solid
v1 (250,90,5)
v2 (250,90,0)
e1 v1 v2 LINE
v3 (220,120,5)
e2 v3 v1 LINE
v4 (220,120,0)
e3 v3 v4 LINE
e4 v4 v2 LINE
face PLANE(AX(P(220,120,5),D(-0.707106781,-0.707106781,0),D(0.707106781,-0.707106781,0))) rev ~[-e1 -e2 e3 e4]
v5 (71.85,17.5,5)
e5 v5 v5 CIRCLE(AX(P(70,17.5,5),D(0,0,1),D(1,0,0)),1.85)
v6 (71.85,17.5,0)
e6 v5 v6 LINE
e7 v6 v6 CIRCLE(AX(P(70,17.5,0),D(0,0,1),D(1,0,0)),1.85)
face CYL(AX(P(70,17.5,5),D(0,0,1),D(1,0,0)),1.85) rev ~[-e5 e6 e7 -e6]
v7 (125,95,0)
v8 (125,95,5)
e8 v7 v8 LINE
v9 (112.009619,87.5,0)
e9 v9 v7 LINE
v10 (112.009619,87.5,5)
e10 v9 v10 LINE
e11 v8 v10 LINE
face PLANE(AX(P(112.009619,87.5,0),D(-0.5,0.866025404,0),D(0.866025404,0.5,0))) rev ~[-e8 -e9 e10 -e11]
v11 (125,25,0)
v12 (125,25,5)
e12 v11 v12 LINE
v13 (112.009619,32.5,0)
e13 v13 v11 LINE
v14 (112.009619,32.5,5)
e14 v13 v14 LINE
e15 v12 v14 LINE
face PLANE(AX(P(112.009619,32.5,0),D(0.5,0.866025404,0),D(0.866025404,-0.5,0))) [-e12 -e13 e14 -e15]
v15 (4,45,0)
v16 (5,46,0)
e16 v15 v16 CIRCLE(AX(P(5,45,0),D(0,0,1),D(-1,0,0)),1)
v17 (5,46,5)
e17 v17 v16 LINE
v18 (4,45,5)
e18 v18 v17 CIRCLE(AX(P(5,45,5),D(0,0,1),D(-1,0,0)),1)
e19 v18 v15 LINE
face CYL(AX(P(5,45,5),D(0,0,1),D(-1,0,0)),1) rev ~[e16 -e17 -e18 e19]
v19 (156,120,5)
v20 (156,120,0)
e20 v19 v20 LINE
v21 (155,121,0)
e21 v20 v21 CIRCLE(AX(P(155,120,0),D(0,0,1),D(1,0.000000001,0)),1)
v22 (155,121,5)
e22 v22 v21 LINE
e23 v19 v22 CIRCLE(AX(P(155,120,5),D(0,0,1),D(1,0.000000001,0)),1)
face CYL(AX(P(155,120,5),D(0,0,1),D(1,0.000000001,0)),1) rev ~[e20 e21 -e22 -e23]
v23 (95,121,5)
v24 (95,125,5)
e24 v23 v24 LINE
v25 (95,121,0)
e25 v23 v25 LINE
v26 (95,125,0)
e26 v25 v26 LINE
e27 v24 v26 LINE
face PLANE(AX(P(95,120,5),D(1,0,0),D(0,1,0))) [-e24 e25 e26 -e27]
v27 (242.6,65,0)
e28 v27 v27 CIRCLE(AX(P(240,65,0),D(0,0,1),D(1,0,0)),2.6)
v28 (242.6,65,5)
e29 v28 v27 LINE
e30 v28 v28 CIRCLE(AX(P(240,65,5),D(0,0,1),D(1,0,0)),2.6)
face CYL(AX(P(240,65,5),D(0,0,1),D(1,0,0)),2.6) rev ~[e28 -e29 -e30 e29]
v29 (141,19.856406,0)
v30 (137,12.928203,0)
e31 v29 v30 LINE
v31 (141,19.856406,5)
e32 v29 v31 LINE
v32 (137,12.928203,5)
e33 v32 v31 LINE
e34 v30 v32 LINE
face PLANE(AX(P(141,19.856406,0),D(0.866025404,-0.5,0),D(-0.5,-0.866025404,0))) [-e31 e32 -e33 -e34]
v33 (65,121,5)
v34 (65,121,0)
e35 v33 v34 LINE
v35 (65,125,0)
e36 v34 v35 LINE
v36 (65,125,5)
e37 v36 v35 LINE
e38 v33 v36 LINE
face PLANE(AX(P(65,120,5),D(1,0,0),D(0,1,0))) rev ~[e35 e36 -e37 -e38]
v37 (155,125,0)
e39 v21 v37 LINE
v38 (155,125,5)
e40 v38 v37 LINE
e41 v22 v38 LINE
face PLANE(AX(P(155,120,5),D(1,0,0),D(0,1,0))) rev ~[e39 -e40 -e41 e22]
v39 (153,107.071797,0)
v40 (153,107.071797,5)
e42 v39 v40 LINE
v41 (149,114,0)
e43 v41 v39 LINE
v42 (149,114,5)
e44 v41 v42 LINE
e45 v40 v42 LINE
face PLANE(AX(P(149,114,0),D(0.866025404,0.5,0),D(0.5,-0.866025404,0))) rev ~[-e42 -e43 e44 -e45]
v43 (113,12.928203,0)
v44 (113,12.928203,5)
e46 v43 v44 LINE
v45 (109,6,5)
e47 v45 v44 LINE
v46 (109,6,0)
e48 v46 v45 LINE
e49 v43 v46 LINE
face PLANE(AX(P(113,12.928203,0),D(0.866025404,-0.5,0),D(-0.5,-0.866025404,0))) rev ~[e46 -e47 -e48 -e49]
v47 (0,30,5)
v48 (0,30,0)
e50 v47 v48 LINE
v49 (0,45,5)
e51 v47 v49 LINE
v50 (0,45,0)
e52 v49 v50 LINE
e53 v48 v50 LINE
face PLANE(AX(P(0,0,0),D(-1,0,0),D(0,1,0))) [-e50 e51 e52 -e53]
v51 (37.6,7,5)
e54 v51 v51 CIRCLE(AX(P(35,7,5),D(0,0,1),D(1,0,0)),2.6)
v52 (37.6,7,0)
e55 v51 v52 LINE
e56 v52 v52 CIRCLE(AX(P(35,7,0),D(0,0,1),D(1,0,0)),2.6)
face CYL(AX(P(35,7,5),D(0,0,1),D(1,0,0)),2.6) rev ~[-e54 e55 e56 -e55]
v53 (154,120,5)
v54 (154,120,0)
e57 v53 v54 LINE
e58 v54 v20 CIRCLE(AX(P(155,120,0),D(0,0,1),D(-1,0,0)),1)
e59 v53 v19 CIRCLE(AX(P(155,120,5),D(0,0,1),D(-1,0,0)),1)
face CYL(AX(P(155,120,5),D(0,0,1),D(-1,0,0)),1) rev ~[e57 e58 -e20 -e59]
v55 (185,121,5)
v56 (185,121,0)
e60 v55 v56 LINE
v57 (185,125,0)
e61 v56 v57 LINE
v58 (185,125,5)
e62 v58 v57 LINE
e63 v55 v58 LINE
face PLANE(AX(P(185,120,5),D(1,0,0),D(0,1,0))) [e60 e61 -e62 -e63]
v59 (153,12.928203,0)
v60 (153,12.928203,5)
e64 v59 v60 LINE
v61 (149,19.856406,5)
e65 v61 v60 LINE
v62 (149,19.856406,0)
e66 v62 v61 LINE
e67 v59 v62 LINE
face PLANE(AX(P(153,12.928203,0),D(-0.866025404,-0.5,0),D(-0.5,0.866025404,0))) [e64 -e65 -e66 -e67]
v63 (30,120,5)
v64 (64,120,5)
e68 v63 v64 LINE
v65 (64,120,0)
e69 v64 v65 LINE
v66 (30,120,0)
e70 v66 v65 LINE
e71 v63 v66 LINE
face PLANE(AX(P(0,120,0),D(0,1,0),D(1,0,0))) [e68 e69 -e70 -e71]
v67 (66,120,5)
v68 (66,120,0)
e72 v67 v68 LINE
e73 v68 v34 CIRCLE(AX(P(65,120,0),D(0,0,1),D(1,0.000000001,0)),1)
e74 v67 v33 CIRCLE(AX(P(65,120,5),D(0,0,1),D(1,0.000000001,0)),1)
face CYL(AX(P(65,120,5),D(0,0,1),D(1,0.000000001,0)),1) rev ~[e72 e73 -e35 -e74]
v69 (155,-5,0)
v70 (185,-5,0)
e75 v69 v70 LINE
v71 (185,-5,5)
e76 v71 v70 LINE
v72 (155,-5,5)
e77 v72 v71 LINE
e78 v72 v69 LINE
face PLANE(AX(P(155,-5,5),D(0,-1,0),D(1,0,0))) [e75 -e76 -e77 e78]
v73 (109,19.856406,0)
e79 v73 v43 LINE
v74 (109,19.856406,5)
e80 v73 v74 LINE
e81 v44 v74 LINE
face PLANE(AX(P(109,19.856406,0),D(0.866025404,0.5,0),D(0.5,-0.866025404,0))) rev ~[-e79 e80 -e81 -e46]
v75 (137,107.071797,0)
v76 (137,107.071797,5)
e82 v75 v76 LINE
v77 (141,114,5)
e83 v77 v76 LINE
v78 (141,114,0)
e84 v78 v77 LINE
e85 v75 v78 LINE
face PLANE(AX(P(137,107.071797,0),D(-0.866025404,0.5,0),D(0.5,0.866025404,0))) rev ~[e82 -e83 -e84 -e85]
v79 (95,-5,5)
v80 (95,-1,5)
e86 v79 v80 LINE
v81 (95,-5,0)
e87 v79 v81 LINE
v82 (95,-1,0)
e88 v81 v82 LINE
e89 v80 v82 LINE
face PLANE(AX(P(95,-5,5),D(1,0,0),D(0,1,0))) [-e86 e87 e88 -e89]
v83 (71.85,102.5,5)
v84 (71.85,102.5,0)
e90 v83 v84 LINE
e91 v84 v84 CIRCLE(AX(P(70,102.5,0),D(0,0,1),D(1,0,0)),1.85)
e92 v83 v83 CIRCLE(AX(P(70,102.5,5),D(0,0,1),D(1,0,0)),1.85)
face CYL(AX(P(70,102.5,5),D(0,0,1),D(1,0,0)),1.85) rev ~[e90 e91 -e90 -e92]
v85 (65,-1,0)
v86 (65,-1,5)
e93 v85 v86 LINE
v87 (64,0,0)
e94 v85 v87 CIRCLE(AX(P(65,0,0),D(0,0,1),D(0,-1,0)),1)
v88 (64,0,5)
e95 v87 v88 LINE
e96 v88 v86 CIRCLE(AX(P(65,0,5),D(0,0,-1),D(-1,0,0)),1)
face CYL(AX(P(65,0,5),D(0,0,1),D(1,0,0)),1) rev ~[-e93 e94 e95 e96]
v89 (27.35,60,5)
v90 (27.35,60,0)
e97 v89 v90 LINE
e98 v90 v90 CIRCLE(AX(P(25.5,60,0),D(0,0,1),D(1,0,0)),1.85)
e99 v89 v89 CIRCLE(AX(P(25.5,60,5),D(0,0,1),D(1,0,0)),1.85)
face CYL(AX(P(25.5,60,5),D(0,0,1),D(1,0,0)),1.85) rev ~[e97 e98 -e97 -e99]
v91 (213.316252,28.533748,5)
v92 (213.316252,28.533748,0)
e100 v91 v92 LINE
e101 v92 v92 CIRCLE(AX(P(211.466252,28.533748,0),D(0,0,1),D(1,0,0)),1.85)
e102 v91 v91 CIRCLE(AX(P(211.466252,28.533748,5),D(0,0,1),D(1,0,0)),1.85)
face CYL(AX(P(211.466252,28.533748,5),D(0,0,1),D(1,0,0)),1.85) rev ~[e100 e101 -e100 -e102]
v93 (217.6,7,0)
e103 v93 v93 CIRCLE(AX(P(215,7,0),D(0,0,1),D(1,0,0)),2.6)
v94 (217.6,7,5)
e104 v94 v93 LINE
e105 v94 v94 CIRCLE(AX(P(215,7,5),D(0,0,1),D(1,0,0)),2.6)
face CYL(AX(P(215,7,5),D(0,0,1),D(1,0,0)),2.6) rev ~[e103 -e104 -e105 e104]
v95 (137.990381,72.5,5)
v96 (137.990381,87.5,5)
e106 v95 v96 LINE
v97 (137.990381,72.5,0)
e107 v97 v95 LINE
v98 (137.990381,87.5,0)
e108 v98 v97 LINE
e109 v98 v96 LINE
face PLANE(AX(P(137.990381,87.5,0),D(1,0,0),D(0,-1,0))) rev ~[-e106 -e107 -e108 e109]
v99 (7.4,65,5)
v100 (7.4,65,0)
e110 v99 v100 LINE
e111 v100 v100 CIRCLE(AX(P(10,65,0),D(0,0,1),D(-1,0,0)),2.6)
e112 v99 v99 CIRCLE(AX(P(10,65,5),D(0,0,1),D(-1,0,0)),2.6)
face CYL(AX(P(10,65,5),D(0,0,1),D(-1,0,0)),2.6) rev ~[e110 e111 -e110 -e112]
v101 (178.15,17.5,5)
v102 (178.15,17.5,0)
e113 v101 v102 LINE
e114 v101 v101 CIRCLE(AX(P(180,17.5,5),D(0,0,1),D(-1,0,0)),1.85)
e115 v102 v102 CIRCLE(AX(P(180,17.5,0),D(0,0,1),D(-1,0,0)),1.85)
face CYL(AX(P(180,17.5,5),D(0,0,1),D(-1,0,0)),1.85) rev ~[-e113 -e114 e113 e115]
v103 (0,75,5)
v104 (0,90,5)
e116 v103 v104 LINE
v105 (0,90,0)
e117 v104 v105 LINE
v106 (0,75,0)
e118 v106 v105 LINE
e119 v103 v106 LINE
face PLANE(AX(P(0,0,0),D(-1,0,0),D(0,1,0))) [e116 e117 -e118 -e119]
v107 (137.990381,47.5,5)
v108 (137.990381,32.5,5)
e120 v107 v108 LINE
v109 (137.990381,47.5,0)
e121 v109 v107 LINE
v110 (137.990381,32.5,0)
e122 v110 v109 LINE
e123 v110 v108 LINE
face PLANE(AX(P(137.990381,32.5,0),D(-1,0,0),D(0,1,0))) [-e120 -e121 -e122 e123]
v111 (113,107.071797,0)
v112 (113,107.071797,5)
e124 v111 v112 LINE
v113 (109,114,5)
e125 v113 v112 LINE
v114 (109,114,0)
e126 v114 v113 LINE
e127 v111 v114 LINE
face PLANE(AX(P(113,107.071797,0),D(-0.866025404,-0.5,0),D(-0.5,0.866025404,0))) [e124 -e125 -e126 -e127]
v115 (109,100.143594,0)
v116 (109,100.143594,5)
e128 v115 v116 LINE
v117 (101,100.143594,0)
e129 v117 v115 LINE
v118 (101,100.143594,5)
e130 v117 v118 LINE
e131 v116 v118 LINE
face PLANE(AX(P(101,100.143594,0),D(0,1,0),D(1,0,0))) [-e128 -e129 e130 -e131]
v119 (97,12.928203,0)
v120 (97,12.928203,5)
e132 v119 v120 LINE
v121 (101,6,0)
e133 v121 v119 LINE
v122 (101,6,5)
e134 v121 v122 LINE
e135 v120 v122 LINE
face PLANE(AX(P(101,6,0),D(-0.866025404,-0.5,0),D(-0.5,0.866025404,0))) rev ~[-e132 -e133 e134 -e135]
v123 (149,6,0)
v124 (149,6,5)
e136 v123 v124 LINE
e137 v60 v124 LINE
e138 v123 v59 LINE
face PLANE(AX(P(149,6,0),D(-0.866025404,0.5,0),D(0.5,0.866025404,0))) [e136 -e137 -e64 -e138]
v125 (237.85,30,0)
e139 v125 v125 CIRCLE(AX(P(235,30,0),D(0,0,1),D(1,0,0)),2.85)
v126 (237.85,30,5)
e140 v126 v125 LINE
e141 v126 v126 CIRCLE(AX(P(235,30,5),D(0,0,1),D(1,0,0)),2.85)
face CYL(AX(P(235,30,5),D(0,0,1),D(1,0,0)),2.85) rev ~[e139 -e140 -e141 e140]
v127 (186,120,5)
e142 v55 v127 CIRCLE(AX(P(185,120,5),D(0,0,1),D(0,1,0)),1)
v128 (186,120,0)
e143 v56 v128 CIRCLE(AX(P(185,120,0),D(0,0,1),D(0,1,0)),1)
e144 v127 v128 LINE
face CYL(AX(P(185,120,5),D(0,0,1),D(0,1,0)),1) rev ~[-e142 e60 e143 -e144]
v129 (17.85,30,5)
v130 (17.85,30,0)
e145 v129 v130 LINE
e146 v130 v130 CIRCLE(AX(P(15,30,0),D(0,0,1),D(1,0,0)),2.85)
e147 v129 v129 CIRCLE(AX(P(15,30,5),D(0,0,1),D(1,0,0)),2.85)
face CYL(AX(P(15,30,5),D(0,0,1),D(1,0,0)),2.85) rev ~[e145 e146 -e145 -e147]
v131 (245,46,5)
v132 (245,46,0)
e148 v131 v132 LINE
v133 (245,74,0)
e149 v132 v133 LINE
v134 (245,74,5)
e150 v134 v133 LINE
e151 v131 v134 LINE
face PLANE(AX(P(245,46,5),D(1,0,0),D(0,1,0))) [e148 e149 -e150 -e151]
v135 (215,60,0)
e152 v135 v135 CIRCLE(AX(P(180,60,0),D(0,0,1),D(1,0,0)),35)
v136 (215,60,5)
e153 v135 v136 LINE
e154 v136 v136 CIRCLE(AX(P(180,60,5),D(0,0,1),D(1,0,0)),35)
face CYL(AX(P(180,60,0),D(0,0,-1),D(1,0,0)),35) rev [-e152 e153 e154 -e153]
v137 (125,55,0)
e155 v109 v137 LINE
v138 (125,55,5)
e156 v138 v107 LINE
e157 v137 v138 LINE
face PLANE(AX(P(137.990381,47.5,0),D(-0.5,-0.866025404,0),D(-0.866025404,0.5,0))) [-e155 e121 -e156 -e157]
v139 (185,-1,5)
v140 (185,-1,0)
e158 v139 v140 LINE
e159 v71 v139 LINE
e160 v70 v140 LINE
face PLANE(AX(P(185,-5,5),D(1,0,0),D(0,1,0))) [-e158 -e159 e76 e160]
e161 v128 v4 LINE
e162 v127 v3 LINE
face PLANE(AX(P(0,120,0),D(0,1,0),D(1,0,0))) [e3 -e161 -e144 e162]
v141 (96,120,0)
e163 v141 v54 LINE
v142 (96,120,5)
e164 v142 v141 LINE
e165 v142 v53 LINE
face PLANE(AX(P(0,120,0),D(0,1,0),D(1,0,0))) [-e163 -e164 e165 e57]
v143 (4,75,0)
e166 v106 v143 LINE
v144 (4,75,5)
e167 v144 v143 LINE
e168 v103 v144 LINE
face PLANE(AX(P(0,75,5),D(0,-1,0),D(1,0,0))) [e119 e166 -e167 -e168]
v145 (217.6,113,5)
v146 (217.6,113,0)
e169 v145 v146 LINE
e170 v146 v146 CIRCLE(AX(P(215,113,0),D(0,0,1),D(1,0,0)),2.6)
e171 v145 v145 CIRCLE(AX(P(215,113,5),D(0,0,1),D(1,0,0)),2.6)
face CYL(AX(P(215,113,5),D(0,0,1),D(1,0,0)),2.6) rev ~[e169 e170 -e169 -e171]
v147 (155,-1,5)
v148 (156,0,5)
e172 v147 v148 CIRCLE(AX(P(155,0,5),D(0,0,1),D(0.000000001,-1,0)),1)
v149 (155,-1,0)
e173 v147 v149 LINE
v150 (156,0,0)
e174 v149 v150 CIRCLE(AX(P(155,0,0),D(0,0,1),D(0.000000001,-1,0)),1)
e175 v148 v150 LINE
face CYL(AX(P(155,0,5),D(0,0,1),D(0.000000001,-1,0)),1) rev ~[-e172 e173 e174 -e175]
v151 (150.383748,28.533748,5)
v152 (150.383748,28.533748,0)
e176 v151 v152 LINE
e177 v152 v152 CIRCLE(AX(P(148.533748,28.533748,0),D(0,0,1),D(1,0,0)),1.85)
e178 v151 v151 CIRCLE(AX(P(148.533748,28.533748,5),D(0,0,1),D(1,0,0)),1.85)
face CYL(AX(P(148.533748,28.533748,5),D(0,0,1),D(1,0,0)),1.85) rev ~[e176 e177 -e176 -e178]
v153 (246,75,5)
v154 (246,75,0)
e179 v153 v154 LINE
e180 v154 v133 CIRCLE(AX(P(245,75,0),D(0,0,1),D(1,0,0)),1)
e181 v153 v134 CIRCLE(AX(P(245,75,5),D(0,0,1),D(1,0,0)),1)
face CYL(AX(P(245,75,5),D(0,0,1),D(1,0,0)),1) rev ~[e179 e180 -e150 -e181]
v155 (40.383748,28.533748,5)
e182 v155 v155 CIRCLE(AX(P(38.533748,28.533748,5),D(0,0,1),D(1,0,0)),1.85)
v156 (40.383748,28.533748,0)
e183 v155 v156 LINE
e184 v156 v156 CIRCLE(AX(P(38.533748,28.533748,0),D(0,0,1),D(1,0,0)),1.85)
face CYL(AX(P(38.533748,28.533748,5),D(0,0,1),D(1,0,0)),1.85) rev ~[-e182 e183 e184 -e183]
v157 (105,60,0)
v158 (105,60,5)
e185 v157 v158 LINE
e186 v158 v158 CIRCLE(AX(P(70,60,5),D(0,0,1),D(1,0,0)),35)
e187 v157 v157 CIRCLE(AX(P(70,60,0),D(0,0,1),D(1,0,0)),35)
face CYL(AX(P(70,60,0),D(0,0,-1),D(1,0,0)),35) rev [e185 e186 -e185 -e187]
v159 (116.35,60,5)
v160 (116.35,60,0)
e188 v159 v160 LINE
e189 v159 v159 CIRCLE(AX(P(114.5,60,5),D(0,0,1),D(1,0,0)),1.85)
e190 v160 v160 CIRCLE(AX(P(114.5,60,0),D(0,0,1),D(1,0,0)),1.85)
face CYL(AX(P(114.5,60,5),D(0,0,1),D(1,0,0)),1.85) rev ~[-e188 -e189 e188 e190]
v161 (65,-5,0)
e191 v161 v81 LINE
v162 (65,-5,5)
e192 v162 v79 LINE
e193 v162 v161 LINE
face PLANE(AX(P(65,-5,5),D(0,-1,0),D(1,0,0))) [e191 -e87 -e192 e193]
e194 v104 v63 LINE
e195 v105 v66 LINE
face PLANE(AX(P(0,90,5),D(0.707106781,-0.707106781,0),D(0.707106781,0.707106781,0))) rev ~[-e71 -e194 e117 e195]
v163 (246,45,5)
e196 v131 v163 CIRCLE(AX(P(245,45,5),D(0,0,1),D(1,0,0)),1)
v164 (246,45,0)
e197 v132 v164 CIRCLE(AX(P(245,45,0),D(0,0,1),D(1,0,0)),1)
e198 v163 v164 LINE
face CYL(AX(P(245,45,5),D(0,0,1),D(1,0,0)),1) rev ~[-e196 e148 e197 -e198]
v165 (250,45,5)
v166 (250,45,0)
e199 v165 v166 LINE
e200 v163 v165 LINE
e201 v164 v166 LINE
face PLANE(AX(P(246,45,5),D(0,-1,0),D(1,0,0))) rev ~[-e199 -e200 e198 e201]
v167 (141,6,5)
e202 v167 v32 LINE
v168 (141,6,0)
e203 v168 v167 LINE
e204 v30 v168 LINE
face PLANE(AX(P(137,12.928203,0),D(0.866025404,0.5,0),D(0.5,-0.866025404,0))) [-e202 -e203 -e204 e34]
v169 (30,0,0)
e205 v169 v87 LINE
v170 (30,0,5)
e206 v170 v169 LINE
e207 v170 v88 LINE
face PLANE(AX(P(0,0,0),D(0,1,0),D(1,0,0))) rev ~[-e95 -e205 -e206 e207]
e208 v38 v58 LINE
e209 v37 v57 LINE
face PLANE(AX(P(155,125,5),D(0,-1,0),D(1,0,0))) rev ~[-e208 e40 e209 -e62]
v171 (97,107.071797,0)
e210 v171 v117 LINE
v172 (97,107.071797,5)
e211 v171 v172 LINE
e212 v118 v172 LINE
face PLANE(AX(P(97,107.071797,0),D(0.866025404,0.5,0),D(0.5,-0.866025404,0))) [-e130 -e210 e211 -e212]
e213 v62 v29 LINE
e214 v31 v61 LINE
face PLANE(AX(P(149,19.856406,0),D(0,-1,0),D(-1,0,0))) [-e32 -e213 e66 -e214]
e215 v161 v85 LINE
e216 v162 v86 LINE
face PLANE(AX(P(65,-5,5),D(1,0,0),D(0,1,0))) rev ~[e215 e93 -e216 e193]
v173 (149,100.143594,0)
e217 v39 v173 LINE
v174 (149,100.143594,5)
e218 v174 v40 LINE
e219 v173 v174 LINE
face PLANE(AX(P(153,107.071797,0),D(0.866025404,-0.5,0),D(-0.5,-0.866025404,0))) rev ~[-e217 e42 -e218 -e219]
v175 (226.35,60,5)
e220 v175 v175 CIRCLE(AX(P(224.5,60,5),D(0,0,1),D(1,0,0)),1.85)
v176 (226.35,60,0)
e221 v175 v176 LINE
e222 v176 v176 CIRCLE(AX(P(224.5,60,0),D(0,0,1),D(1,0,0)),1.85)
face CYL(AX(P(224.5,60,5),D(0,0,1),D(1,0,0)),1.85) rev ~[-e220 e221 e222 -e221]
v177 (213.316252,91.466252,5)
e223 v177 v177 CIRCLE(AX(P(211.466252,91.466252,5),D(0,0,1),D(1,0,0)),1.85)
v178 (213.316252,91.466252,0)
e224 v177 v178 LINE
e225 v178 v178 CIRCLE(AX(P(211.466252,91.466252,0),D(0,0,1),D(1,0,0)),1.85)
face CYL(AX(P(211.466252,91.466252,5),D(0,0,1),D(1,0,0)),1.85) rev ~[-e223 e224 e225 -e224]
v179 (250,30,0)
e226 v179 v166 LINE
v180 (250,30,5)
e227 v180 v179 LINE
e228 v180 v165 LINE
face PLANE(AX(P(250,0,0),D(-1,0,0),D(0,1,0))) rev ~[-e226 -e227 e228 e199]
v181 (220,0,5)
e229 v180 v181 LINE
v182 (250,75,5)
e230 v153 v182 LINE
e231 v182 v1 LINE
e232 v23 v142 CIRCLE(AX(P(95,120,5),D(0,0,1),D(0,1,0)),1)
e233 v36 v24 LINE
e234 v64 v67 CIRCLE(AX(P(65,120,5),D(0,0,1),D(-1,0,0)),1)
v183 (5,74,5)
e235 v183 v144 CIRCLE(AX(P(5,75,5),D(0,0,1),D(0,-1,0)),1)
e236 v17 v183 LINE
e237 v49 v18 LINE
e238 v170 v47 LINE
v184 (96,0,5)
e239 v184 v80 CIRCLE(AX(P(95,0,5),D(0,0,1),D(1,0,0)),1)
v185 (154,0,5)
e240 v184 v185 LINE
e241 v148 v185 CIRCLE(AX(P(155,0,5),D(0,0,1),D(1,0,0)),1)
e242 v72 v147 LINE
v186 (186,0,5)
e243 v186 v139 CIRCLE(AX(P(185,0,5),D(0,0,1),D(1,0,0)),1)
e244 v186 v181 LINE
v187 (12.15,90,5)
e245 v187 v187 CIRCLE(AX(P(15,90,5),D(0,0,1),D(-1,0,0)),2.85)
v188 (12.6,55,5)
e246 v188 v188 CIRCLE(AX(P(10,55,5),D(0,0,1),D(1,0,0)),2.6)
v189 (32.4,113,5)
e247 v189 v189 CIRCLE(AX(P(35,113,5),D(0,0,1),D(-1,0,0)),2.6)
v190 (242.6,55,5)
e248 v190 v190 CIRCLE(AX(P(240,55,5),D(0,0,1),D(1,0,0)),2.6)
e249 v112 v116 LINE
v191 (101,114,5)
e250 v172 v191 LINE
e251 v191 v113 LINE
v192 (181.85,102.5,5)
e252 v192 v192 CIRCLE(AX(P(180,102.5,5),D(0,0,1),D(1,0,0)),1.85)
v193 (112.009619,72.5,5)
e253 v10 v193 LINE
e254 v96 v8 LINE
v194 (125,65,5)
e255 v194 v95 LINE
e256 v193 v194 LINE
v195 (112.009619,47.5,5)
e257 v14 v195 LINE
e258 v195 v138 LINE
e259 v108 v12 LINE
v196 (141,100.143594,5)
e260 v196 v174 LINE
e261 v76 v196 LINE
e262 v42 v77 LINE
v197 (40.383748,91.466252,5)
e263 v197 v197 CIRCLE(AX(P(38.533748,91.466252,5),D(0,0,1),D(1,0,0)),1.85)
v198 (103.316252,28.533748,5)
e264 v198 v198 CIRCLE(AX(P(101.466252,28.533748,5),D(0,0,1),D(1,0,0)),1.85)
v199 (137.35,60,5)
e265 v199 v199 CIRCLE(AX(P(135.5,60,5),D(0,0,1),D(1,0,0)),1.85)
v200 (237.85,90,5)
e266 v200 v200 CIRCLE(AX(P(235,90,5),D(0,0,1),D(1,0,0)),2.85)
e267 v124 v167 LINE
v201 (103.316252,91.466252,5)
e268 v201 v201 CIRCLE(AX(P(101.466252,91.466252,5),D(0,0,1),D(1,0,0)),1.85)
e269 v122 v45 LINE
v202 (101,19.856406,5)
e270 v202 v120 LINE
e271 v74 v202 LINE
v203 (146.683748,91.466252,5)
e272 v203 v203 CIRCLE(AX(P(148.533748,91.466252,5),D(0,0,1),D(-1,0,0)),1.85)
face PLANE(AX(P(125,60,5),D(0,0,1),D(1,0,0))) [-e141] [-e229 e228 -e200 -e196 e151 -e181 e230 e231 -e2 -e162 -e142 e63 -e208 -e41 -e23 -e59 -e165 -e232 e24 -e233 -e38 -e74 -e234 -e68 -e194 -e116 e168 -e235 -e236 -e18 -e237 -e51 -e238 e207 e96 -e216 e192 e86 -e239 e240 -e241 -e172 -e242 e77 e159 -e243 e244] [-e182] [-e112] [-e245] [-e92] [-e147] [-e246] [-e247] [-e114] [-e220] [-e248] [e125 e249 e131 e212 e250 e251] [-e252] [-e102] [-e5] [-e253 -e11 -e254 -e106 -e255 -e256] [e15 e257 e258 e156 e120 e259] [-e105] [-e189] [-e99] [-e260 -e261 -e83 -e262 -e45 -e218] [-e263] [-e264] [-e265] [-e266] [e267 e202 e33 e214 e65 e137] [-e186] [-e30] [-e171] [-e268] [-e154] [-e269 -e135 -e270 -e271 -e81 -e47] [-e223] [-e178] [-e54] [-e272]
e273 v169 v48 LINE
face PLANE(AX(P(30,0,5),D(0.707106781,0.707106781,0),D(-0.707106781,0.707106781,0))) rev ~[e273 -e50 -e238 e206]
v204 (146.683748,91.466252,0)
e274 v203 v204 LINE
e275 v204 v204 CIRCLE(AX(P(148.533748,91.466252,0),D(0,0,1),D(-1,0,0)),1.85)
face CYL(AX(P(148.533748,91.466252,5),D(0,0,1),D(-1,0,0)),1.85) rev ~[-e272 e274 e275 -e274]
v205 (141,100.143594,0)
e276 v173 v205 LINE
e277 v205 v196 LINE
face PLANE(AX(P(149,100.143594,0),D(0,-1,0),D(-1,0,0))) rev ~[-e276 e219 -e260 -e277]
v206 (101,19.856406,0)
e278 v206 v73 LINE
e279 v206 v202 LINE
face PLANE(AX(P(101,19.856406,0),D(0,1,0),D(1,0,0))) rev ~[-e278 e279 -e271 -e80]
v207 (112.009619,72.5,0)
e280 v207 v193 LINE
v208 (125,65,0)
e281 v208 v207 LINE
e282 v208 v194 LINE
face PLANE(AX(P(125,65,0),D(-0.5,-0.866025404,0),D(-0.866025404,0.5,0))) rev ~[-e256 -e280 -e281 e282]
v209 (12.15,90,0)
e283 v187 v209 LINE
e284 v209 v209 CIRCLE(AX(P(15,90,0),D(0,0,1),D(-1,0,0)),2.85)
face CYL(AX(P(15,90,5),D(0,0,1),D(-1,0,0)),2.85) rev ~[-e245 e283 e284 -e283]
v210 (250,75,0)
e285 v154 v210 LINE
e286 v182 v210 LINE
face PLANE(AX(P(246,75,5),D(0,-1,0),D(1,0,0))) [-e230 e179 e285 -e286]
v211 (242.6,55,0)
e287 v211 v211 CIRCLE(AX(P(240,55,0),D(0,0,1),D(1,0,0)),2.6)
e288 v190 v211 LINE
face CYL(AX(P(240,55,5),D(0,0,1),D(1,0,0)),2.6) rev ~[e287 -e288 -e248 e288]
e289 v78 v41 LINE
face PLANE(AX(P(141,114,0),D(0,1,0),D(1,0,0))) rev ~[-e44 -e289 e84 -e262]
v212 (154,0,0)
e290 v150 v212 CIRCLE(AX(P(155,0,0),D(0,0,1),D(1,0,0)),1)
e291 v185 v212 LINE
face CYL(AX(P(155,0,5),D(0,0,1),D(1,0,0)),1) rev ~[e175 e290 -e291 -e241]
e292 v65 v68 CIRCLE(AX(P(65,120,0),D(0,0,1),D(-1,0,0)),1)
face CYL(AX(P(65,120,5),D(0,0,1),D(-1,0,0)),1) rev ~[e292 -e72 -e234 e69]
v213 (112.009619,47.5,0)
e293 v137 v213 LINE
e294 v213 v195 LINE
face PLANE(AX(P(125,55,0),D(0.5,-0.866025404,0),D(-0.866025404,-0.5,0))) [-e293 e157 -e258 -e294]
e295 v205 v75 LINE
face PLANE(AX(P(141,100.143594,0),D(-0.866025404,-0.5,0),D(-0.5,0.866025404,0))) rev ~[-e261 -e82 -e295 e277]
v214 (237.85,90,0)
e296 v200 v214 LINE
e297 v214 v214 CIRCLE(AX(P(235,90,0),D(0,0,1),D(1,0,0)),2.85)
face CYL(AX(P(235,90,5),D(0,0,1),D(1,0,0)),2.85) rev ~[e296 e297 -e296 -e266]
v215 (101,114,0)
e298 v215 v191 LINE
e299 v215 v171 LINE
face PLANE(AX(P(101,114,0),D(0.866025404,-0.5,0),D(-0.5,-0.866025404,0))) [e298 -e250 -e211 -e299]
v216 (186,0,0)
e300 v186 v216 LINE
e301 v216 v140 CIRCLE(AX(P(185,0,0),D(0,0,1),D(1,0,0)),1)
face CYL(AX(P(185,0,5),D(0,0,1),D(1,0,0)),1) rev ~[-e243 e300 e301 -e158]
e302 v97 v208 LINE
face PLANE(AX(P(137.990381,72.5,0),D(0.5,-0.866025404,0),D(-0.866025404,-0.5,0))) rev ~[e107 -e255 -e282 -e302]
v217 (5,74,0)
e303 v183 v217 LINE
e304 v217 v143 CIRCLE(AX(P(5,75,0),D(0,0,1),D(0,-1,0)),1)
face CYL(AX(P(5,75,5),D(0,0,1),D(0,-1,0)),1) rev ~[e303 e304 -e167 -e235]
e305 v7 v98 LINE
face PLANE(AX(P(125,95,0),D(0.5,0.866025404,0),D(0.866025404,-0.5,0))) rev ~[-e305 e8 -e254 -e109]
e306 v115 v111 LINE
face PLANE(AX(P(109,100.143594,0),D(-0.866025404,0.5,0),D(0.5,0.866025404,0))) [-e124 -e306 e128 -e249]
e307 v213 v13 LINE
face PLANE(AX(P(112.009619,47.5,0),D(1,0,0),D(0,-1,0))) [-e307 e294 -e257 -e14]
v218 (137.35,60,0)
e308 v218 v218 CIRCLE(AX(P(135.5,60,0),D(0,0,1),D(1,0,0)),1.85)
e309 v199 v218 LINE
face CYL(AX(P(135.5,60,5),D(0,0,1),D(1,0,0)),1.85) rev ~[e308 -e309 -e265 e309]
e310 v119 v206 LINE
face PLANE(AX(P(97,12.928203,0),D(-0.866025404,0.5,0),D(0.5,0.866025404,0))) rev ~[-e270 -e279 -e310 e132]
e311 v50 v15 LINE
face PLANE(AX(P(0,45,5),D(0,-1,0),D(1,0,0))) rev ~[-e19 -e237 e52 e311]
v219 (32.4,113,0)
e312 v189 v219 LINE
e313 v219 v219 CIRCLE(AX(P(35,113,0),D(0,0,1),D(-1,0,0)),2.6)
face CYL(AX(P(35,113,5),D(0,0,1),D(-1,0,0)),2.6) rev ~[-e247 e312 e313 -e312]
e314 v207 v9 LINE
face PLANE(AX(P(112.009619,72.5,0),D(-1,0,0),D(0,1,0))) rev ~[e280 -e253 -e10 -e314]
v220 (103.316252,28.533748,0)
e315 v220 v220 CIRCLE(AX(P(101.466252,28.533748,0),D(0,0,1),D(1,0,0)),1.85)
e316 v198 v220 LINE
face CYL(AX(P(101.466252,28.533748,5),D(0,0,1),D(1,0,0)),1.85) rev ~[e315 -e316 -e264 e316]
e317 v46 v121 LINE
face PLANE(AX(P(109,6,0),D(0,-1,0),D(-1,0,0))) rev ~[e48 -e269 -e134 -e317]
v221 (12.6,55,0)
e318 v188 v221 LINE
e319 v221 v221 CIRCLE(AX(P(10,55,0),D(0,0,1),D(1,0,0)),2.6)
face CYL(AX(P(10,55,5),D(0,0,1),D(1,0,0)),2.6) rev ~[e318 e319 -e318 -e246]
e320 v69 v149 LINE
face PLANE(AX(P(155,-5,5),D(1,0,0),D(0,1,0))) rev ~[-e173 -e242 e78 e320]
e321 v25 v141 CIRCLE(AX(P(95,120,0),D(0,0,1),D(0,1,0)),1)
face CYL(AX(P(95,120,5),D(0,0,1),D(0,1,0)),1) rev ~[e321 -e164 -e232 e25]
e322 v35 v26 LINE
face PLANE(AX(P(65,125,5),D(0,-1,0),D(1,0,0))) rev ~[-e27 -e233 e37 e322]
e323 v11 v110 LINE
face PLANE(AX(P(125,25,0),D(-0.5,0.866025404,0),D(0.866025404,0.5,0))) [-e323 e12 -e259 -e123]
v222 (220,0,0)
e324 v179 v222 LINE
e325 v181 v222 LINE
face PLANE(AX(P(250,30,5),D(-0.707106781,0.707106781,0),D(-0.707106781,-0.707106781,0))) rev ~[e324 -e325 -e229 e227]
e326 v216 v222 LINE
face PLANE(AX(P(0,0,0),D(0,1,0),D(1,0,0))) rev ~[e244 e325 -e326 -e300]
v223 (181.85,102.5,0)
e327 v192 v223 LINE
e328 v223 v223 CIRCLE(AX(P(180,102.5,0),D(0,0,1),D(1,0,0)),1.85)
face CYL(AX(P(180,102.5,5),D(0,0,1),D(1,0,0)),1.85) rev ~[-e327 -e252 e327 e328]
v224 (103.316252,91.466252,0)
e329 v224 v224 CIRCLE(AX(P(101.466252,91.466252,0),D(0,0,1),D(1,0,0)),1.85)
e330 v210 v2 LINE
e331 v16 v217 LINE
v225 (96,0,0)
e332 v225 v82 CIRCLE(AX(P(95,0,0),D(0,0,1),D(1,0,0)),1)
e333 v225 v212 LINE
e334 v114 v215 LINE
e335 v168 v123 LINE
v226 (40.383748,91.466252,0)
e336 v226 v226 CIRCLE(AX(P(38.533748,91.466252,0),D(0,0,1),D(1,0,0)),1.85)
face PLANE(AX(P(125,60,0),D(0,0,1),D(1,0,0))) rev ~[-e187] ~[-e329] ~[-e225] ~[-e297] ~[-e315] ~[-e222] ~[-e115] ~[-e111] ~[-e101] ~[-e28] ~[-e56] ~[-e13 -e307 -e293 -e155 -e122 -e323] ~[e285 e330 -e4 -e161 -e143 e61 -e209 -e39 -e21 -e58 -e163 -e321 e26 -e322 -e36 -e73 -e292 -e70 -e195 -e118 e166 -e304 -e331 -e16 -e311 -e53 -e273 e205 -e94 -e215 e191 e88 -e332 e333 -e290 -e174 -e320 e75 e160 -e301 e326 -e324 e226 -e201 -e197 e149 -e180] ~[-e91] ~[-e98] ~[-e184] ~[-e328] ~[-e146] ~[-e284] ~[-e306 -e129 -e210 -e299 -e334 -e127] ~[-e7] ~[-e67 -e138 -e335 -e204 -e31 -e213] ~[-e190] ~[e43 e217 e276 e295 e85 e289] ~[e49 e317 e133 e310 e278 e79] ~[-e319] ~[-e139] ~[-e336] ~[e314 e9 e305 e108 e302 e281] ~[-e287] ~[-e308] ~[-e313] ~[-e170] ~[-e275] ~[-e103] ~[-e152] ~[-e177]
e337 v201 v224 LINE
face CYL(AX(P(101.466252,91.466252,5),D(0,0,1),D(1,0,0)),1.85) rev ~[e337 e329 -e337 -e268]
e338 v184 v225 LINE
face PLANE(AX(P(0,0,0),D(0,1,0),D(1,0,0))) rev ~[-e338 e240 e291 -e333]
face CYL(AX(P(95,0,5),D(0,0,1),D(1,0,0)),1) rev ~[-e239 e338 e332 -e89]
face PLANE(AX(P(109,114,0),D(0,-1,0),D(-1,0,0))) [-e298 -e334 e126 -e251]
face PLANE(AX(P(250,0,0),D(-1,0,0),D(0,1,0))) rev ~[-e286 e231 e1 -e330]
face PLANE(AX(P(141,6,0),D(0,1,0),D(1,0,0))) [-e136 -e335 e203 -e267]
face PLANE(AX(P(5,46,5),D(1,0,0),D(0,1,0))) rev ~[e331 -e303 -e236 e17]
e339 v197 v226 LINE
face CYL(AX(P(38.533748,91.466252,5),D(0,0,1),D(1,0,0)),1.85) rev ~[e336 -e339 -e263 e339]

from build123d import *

# Parameters (mm, degrees)
SKETCH_1_W          = 250
SKETCH_1_H          = 120
SKETCH_1_R          = 35
EXTRUDE_1_DEPTH     = 5
SKETCH_2_R          = 1.85
CUT_EXTRUDE_1_DEPTH = 10
CUT_EXTRUDE_2_DEPTH = 10
CUT_EXTRUDE_3_DEPTH = 10
SKETCH_7_W          = 30
SKETCH_7_H          = 5
EXTRUDE_2_DEPTH     = 5
SKETCH_8_R          = 1
CUT_EXTRUDE_4_DEPTH = 10
SKETCH_9_R          = 1
SKETCH_9_W          = 5
SKETCH_9_H          = 30
CUT_EXTRUDE_5_DEPTH = 5
SKETCH_10_R         = 2.6
SKETCH_10_R_2       = 2.85
CUT_EXTRUDE_6_DEPTH = 280.55321497


with BuildPart() as part:
    # 草图1 → 凸台-拉伸1 (new body)
    with BuildSketch(Plane.XY):
        with Locations((125, 60)):
            Rectangle(SKETCH_1_W, SKETCH_1_H)
        with Locations((70, 60)):
            Circle(SKETCH_1_R, mode=Mode.SUBTRACT)
        with Locations((180, 60)):
            Circle(SKETCH_1_R, mode=Mode.SUBTRACT)
    extrude(amount=EXTRUDE_1_DEPTH)

    # 草图2 → 切除-拉伸1 (cut)
    with BuildSketch(Plane.XY.offset(5)):
        with Locations((70, 102.5)):
            Circle(SKETCH_2_R)
        with Locations((70, 17.5)):
            Circle(SKETCH_2_R)
        with Locations((25.5, 60)):
            Circle(SKETCH_2_R)
        with Locations((38.533748237, 91.466251763)):
            Circle(SKETCH_2_R)
        with Locations((101.466251763, 91.466251763)):
            Circle(SKETCH_2_R)
        with Locations((114.5, 60)):
            Circle(SKETCH_2_R)
        with Locations((101.466251763, 28.533748237)):
            Circle(SKETCH_2_R)
        with Locations((38.533748237, 28.533748237)):
            Circle(SKETCH_2_R)
        with Locations((180, 102.5)):
            Circle(SKETCH_2_R)
        with Locations(Location((148.533748237, 91.466251763, 0), (0, 0, 180))):
            Circle(SKETCH_2_R)
        with Locations((135.5, 60)):
            Circle(SKETCH_2_R)
        with Locations((148.533748237, 28.533748237)):
            Circle(SKETCH_2_R)
        with Locations(Location((180, 17.5, 0), (0, 0, 180))):
            Circle(SKETCH_2_R)
        with Locations((211.466251763, 28.533748237)):
            Circle(SKETCH_2_R)
        with Locations((224.5, 60)):
            Circle(SKETCH_2_R)
        with Locations((211.466251763, 91.466251763)):
            Circle(SKETCH_2_R)
    extrude(amount=-CUT_EXTRUDE_1_DEPTH, mode=Mode.SUBTRACT)

    # 草图3 → 切除-拉伸2 (cut)
    with BuildSketch(Plane.XY.offset(5)):
        Polygon((0, 90), (30, 120), (0, 120), align=None)
        Polygon((30, 0), (0, 30), (0, 0), align=None)
        Polygon((250, 30), (220, 0), (250, 0), align=None)
        Polygon((250, 120), (220, 120), (250, 90), align=None)
    extrude(amount=-CUT_EXTRUDE_2_DEPTH, mode=Mode.SUBTRACT)

    # 草图4 → 切除-拉伸3 (cut)
    with BuildSketch(Plane(origin=(0, 0, 0), x_dir=(-1, 0, 0), z_dir=(0, 0, -1))):
        Polygon((-125, 65), (-112.009618943, 72.5), (-112.009618943, 87.5), (-125, 95), (-137.990381057, 87.5), (-137.990381057, 72.5), align=None)
        Polygon((-109, 100.143593539), (-113, 107.07179677), (-109, 114), (-101, 114), (-97, 107.07179677), (-101, 100.143593539), align=None)
        Polygon((-137, 107.07179677), (-141, 114), (-149, 114), (-153, 107.07179677), (-149, 100.143593539), (-141, 100.143593539), align=None)
        Polygon((-137.990381057, 47.5), (-125, 55), (-112.009618943, 47.5), (-112.009618943, 32.5), (-125, 25), (-137.990381057, 32.5), align=None)
        Polygon((-101, 19.856406461), (-109, 19.856406461), (-113, 12.92820323), (-109, 6), (-101, 6), (-97, 12.92820323), align=None)
        Polygon((-141, 19.856406461), (-137, 12.92820323), (-141, 6), (-149, 6), (-153, 12.92820323), (-149, 19.856406461), align=None)
    extrude(amount=-CUT_EXTRUDE_3_DEPTH, mode=Mode.SUBTRACT)

    # 草图7 → 凸台-拉伸2 (add)
    with BuildSketch(Plane.XY.offset(5)):
        with Locations((80, 122.5)):
            Rectangle(SKETCH_7_W, SKETCH_7_H)
        with Locations((170, 122.5)):
            Rectangle(SKETCH_7_W, SKETCH_7_H)
        with Locations((80, -2.5)):
            Rectangle(SKETCH_7_W, SKETCH_7_H)
        with Locations((170, -2.5)):
            Rectangle(SKETCH_7_W, SKETCH_7_H)
    extrude(amount=-EXTRUDE_2_DEPTH)

    # 草图8 → 切除-拉伸4 (cut)
    with BuildSketch(Plane.XY.offset(5)):
        with BuildLine():
            ThreePointArc((95, -1), (95.707106781, -0.707106781), (96, 0))
            Line((96, 0), (95, 0))
            Line((95, 0), (95, -1))
        make_face()
        with BuildLine():
            Line((95, 0), (96, 0))
            ThreePointArc((96, 0), (94.292893219, 0.707106781), (95, -1))
            Line((95, -1), (95, 0))
        make_face()
        with BuildLine():
            ThreePointArc((154, 0), (154.292893219, -0.707106781), (155, -1))
            Line((155, -1), (155, 0))
            Line((155, 0), (154, 0))
        make_face()
        with BuildLine():
            Line((155, 0), (155, -1))
            ThreePointArc((155, -1), (155.707106781, -0.707106781), (156, 0))
            ThreePointArc((156, 0), (155, 1), (154, 0))
            Line((154, 0), (155, 0))
        make_face()
        with BuildLine():
            ThreePointArc((185, -1), (185.707106781, -0.707106781), (186, 0))
            Line((186, 0), (185, 0))
            Line((185, 0), (185, -1))
        make_face()
        with BuildLine():
            Line((185, 0), (186, 0))
            ThreePointArc((186, 0), (184.292893219, 0.707106781), (185, -1))
            Line((185, -1), (185, 0))
        make_face()
        with BuildLine():
            ThreePointArc((156, 120), (155.707106781, 120.707106781), (155, 121))
            Line((155, 121), (155, 120))
            Line((155, 120), (154, 120))
            ThreePointArc((154, 120), (155, 119), (156, 120))
        make_face()
        with BuildLine():
            Line((155, 120), (155, 121))
            ThreePointArc((155, 121), (154.292893219, 120.707106781), (154, 120))
            Line((154, 120), (155, 120))
        make_face()
        with BuildLine():
            ThreePointArc((185, 121), (184.292893219, 119.292893219), (186, 120))
            Line((186, 120), (185, 120))
            Line((185, 120), (185, 121))
        make_face()
        with BuildLine():
            Line((185, 120), (186, 120))
            ThreePointArc((186, 120), (185.707106781, 120.707106781), (185, 121))
            Line((185, 121), (185, 120))
        make_face()
        with BuildLine():
            ThreePointArc((66, 120), (65.707106781, 120.707106781), (65, 121))
            Line((65, 121), (65, 120))
            Line((65, 120), (64, 120))
            ThreePointArc((64, 120), (65, 119), (66, 120))
        make_face()
        with BuildLine():
            Line((65, 120), (65, 121))
            ThreePointArc((65, 121), (64.292893219, 120.707106781), (64, 120))
            Line((64, 120), (65, 120))
        make_face()
        with BuildLine():
            ThreePointArc((95, 121), (94.292893219, 119.292893219), (96, 120))
            Line((96, 120), (95, 120))
            Line((95, 120), (95, 121))
        make_face()
        with BuildLine():
            Line((95, 120), (96, 120))
            ThreePointArc((96, 120), (95.707106781, 120.707106781), (95, 121))
            Line((95, 121), (95, 120))
        make_face()
        with Locations((65, 0)):
            Circle(SKETCH_8_R)
    extrude(amount=-CUT_EXTRUDE_4_DEPTH, mode=Mode.SUBTRACT)

    # 草图9 → 切除-拉伸5 (cut)
    with BuildSketch(Plane.XY.offset(5)):
        with Locations((5, 45)):
            Circle(SKETCH_9_R)
        with Locations((5, 75)):
            Circle(SKETCH_9_R)
        with Locations((2.5, 60)):
            Rectangle(SKETCH_9_W, SKETCH_9_H)
        with BuildLine():
            ThreePointArc((6, 75), (5, 76), (4, 75))
            Line((4, 75), (5, 75))
            Line((5, 75), (5, 74))
            ThreePointArc((5, 74), (5.707106781, 74.292893219), (6, 75))
        make_face()
        with BuildLine():
            Line((5, 75), (4, 75))
            ThreePointArc((4, 75), (4.292893219, 74.292893219), (5, 74))
            Line((5, 74), (5, 75))
        make_face()
        with BuildLine():
            ThreePointArc((6, 75), (5, 76), (4, 75))
            Line((4, 75), (5, 75))
            Line((5, 75), (5, 74))
            ThreePointArc((5, 74), (5.707106781, 74.292893219), (6, 75))
        make_face()
        with BuildLine():
            Line((5, 75), (4, 75))
            ThreePointArc((4, 75), (4.292893219, 74.292893219), (5, 74))
            Line((5, 74), (5, 75))
        make_face()
        with BuildLine():
            ThreePointArc((5, 46), (4.292893219, 45.707106781), (4, 45))
            Line((4, 45), (5, 45))
            Line((5, 45), (5, 46))
        make_face()
        with BuildLine():
            Line((5, 45), (4, 45))
            ThreePointArc((4, 45), (5, 44), (6, 45))
            ThreePointArc((6, 45), (5.707106781, 45.707106781), (5, 46))
            Line((5, 46), (5, 45))
        make_face()
        with BuildLine():
            ThreePointArc((5, 46), (4.292893219, 45.707106781), (4, 45))
            Line((4, 45), (5, 45))
            Line((5, 45), (5, 46))
        make_face()
        with BuildLine():
            Line((5, 45), (4, 45))
            ThreePointArc((4, 45), (5, 44), (6, 45))
            ThreePointArc((6, 45), (5.707106781, 45.707106781), (5, 46))
            Line((5, 46), (5, 45))
        make_face()
        with BuildLine():
            ThreePointArc((245, 74), (245.707106781, 74.292893219), (246, 75))
            Line((246, 75), (245, 75))
            Line((245, 75), (245, 74))
        make_face()
        with BuildLine():
            Line((245, 75), (246, 75))
            ThreePointArc((246, 75), (244.292893219, 75.707106781), (245, 74))
            Line((245, 74), (245, 75))
        make_face()
        with Locations((245, 45)):
            Circle(SKETCH_9_R)
        with Locations((245, 75)):
            Circle(SKETCH_9_R)
        with Locations((247.5, 60)):
            Rectangle(SKETCH_9_W, SKETCH_9_H)
        with BuildLine():
            ThreePointArc((245, 74), (245.707106781, 74.292893219), (246, 75))
            Line((246, 75), (245, 75))
            Line((245, 75), (245, 74))
        make_face()
        with BuildLine():
            Line((245, 75), (246, 75))
            ThreePointArc((246, 75), (244.292893219, 75.707106781), (245, 74))
            Line((245, 74), (245, 75))
        make_face()
        with BuildLine():
            ThreePointArc((245, 46), (244.292893219, 44.292893219), (246, 45))
            Line((246, 45), (245, 45))
            Line((245, 45), (245, 46))
        make_face()
        with BuildLine():
            Line((245, 45), (246, 45))
            ThreePointArc((246, 45), (245.707106781, 45.707106781), (245, 46))
            Line((245, 46), (245, 45))
        make_face()
        with BuildLine():
            ThreePointArc((245, 46), (244.292893219, 44.292893219), (246, 45))
            Line((246, 45), (245, 45))
            Line((245, 45), (245, 46))
        make_face()
        with BuildLine():
            Line((245, 45), (246, 45))
            ThreePointArc((246, 45), (245.707106781, 45.707106781), (245, 46))
            Line((245, 46), (245, 45))
        make_face()
    extrude(amount=-CUT_EXTRUDE_5_DEPTH, mode=Mode.SUBTRACT)

    # 草图10 → 切除-拉伸6 (cut, through all)
    with BuildSketch(Plane.XY.offset(5)):
        with Locations((10, 55)):
            Circle(SKETCH_10_R)
        with Locations((15, 30)):
            Circle(SKETCH_10_R_2)
        with Locations((35, 7)):
            Circle(SKETCH_10_R)
        with Locations((215, 7)):
            Circle(SKETCH_10_R)
        with Locations((235, 30)):
            Circle(SKETCH_10_R_2)
        with Locations((240, 55)):
            Circle(SKETCH_10_R)
        with Locations(Location((10, 65, 0), (0, 0, 180))):
            Circle(SKETCH_10_R)
        with Locations(Location((15, 90, 0), (0, 0, 180))):
            Circle(SKETCH_10_R_2)
        with Locations(Location((35, 113, 0), (0, 0, 180))):
            Circle(SKETCH_10_R)
        with Locations((215, 113)):
            Circle(SKETCH_10_R)
        with Locations((235, 90)):
            Circle(SKETCH_10_R_2)
        with Locations((240, 65)):
            Circle(SKETCH_10_R)
    extrude(amount=-CUT_EXTRUDE_6_DEPTH, mode=Mode.SUBTRACT)


solid = part.part
